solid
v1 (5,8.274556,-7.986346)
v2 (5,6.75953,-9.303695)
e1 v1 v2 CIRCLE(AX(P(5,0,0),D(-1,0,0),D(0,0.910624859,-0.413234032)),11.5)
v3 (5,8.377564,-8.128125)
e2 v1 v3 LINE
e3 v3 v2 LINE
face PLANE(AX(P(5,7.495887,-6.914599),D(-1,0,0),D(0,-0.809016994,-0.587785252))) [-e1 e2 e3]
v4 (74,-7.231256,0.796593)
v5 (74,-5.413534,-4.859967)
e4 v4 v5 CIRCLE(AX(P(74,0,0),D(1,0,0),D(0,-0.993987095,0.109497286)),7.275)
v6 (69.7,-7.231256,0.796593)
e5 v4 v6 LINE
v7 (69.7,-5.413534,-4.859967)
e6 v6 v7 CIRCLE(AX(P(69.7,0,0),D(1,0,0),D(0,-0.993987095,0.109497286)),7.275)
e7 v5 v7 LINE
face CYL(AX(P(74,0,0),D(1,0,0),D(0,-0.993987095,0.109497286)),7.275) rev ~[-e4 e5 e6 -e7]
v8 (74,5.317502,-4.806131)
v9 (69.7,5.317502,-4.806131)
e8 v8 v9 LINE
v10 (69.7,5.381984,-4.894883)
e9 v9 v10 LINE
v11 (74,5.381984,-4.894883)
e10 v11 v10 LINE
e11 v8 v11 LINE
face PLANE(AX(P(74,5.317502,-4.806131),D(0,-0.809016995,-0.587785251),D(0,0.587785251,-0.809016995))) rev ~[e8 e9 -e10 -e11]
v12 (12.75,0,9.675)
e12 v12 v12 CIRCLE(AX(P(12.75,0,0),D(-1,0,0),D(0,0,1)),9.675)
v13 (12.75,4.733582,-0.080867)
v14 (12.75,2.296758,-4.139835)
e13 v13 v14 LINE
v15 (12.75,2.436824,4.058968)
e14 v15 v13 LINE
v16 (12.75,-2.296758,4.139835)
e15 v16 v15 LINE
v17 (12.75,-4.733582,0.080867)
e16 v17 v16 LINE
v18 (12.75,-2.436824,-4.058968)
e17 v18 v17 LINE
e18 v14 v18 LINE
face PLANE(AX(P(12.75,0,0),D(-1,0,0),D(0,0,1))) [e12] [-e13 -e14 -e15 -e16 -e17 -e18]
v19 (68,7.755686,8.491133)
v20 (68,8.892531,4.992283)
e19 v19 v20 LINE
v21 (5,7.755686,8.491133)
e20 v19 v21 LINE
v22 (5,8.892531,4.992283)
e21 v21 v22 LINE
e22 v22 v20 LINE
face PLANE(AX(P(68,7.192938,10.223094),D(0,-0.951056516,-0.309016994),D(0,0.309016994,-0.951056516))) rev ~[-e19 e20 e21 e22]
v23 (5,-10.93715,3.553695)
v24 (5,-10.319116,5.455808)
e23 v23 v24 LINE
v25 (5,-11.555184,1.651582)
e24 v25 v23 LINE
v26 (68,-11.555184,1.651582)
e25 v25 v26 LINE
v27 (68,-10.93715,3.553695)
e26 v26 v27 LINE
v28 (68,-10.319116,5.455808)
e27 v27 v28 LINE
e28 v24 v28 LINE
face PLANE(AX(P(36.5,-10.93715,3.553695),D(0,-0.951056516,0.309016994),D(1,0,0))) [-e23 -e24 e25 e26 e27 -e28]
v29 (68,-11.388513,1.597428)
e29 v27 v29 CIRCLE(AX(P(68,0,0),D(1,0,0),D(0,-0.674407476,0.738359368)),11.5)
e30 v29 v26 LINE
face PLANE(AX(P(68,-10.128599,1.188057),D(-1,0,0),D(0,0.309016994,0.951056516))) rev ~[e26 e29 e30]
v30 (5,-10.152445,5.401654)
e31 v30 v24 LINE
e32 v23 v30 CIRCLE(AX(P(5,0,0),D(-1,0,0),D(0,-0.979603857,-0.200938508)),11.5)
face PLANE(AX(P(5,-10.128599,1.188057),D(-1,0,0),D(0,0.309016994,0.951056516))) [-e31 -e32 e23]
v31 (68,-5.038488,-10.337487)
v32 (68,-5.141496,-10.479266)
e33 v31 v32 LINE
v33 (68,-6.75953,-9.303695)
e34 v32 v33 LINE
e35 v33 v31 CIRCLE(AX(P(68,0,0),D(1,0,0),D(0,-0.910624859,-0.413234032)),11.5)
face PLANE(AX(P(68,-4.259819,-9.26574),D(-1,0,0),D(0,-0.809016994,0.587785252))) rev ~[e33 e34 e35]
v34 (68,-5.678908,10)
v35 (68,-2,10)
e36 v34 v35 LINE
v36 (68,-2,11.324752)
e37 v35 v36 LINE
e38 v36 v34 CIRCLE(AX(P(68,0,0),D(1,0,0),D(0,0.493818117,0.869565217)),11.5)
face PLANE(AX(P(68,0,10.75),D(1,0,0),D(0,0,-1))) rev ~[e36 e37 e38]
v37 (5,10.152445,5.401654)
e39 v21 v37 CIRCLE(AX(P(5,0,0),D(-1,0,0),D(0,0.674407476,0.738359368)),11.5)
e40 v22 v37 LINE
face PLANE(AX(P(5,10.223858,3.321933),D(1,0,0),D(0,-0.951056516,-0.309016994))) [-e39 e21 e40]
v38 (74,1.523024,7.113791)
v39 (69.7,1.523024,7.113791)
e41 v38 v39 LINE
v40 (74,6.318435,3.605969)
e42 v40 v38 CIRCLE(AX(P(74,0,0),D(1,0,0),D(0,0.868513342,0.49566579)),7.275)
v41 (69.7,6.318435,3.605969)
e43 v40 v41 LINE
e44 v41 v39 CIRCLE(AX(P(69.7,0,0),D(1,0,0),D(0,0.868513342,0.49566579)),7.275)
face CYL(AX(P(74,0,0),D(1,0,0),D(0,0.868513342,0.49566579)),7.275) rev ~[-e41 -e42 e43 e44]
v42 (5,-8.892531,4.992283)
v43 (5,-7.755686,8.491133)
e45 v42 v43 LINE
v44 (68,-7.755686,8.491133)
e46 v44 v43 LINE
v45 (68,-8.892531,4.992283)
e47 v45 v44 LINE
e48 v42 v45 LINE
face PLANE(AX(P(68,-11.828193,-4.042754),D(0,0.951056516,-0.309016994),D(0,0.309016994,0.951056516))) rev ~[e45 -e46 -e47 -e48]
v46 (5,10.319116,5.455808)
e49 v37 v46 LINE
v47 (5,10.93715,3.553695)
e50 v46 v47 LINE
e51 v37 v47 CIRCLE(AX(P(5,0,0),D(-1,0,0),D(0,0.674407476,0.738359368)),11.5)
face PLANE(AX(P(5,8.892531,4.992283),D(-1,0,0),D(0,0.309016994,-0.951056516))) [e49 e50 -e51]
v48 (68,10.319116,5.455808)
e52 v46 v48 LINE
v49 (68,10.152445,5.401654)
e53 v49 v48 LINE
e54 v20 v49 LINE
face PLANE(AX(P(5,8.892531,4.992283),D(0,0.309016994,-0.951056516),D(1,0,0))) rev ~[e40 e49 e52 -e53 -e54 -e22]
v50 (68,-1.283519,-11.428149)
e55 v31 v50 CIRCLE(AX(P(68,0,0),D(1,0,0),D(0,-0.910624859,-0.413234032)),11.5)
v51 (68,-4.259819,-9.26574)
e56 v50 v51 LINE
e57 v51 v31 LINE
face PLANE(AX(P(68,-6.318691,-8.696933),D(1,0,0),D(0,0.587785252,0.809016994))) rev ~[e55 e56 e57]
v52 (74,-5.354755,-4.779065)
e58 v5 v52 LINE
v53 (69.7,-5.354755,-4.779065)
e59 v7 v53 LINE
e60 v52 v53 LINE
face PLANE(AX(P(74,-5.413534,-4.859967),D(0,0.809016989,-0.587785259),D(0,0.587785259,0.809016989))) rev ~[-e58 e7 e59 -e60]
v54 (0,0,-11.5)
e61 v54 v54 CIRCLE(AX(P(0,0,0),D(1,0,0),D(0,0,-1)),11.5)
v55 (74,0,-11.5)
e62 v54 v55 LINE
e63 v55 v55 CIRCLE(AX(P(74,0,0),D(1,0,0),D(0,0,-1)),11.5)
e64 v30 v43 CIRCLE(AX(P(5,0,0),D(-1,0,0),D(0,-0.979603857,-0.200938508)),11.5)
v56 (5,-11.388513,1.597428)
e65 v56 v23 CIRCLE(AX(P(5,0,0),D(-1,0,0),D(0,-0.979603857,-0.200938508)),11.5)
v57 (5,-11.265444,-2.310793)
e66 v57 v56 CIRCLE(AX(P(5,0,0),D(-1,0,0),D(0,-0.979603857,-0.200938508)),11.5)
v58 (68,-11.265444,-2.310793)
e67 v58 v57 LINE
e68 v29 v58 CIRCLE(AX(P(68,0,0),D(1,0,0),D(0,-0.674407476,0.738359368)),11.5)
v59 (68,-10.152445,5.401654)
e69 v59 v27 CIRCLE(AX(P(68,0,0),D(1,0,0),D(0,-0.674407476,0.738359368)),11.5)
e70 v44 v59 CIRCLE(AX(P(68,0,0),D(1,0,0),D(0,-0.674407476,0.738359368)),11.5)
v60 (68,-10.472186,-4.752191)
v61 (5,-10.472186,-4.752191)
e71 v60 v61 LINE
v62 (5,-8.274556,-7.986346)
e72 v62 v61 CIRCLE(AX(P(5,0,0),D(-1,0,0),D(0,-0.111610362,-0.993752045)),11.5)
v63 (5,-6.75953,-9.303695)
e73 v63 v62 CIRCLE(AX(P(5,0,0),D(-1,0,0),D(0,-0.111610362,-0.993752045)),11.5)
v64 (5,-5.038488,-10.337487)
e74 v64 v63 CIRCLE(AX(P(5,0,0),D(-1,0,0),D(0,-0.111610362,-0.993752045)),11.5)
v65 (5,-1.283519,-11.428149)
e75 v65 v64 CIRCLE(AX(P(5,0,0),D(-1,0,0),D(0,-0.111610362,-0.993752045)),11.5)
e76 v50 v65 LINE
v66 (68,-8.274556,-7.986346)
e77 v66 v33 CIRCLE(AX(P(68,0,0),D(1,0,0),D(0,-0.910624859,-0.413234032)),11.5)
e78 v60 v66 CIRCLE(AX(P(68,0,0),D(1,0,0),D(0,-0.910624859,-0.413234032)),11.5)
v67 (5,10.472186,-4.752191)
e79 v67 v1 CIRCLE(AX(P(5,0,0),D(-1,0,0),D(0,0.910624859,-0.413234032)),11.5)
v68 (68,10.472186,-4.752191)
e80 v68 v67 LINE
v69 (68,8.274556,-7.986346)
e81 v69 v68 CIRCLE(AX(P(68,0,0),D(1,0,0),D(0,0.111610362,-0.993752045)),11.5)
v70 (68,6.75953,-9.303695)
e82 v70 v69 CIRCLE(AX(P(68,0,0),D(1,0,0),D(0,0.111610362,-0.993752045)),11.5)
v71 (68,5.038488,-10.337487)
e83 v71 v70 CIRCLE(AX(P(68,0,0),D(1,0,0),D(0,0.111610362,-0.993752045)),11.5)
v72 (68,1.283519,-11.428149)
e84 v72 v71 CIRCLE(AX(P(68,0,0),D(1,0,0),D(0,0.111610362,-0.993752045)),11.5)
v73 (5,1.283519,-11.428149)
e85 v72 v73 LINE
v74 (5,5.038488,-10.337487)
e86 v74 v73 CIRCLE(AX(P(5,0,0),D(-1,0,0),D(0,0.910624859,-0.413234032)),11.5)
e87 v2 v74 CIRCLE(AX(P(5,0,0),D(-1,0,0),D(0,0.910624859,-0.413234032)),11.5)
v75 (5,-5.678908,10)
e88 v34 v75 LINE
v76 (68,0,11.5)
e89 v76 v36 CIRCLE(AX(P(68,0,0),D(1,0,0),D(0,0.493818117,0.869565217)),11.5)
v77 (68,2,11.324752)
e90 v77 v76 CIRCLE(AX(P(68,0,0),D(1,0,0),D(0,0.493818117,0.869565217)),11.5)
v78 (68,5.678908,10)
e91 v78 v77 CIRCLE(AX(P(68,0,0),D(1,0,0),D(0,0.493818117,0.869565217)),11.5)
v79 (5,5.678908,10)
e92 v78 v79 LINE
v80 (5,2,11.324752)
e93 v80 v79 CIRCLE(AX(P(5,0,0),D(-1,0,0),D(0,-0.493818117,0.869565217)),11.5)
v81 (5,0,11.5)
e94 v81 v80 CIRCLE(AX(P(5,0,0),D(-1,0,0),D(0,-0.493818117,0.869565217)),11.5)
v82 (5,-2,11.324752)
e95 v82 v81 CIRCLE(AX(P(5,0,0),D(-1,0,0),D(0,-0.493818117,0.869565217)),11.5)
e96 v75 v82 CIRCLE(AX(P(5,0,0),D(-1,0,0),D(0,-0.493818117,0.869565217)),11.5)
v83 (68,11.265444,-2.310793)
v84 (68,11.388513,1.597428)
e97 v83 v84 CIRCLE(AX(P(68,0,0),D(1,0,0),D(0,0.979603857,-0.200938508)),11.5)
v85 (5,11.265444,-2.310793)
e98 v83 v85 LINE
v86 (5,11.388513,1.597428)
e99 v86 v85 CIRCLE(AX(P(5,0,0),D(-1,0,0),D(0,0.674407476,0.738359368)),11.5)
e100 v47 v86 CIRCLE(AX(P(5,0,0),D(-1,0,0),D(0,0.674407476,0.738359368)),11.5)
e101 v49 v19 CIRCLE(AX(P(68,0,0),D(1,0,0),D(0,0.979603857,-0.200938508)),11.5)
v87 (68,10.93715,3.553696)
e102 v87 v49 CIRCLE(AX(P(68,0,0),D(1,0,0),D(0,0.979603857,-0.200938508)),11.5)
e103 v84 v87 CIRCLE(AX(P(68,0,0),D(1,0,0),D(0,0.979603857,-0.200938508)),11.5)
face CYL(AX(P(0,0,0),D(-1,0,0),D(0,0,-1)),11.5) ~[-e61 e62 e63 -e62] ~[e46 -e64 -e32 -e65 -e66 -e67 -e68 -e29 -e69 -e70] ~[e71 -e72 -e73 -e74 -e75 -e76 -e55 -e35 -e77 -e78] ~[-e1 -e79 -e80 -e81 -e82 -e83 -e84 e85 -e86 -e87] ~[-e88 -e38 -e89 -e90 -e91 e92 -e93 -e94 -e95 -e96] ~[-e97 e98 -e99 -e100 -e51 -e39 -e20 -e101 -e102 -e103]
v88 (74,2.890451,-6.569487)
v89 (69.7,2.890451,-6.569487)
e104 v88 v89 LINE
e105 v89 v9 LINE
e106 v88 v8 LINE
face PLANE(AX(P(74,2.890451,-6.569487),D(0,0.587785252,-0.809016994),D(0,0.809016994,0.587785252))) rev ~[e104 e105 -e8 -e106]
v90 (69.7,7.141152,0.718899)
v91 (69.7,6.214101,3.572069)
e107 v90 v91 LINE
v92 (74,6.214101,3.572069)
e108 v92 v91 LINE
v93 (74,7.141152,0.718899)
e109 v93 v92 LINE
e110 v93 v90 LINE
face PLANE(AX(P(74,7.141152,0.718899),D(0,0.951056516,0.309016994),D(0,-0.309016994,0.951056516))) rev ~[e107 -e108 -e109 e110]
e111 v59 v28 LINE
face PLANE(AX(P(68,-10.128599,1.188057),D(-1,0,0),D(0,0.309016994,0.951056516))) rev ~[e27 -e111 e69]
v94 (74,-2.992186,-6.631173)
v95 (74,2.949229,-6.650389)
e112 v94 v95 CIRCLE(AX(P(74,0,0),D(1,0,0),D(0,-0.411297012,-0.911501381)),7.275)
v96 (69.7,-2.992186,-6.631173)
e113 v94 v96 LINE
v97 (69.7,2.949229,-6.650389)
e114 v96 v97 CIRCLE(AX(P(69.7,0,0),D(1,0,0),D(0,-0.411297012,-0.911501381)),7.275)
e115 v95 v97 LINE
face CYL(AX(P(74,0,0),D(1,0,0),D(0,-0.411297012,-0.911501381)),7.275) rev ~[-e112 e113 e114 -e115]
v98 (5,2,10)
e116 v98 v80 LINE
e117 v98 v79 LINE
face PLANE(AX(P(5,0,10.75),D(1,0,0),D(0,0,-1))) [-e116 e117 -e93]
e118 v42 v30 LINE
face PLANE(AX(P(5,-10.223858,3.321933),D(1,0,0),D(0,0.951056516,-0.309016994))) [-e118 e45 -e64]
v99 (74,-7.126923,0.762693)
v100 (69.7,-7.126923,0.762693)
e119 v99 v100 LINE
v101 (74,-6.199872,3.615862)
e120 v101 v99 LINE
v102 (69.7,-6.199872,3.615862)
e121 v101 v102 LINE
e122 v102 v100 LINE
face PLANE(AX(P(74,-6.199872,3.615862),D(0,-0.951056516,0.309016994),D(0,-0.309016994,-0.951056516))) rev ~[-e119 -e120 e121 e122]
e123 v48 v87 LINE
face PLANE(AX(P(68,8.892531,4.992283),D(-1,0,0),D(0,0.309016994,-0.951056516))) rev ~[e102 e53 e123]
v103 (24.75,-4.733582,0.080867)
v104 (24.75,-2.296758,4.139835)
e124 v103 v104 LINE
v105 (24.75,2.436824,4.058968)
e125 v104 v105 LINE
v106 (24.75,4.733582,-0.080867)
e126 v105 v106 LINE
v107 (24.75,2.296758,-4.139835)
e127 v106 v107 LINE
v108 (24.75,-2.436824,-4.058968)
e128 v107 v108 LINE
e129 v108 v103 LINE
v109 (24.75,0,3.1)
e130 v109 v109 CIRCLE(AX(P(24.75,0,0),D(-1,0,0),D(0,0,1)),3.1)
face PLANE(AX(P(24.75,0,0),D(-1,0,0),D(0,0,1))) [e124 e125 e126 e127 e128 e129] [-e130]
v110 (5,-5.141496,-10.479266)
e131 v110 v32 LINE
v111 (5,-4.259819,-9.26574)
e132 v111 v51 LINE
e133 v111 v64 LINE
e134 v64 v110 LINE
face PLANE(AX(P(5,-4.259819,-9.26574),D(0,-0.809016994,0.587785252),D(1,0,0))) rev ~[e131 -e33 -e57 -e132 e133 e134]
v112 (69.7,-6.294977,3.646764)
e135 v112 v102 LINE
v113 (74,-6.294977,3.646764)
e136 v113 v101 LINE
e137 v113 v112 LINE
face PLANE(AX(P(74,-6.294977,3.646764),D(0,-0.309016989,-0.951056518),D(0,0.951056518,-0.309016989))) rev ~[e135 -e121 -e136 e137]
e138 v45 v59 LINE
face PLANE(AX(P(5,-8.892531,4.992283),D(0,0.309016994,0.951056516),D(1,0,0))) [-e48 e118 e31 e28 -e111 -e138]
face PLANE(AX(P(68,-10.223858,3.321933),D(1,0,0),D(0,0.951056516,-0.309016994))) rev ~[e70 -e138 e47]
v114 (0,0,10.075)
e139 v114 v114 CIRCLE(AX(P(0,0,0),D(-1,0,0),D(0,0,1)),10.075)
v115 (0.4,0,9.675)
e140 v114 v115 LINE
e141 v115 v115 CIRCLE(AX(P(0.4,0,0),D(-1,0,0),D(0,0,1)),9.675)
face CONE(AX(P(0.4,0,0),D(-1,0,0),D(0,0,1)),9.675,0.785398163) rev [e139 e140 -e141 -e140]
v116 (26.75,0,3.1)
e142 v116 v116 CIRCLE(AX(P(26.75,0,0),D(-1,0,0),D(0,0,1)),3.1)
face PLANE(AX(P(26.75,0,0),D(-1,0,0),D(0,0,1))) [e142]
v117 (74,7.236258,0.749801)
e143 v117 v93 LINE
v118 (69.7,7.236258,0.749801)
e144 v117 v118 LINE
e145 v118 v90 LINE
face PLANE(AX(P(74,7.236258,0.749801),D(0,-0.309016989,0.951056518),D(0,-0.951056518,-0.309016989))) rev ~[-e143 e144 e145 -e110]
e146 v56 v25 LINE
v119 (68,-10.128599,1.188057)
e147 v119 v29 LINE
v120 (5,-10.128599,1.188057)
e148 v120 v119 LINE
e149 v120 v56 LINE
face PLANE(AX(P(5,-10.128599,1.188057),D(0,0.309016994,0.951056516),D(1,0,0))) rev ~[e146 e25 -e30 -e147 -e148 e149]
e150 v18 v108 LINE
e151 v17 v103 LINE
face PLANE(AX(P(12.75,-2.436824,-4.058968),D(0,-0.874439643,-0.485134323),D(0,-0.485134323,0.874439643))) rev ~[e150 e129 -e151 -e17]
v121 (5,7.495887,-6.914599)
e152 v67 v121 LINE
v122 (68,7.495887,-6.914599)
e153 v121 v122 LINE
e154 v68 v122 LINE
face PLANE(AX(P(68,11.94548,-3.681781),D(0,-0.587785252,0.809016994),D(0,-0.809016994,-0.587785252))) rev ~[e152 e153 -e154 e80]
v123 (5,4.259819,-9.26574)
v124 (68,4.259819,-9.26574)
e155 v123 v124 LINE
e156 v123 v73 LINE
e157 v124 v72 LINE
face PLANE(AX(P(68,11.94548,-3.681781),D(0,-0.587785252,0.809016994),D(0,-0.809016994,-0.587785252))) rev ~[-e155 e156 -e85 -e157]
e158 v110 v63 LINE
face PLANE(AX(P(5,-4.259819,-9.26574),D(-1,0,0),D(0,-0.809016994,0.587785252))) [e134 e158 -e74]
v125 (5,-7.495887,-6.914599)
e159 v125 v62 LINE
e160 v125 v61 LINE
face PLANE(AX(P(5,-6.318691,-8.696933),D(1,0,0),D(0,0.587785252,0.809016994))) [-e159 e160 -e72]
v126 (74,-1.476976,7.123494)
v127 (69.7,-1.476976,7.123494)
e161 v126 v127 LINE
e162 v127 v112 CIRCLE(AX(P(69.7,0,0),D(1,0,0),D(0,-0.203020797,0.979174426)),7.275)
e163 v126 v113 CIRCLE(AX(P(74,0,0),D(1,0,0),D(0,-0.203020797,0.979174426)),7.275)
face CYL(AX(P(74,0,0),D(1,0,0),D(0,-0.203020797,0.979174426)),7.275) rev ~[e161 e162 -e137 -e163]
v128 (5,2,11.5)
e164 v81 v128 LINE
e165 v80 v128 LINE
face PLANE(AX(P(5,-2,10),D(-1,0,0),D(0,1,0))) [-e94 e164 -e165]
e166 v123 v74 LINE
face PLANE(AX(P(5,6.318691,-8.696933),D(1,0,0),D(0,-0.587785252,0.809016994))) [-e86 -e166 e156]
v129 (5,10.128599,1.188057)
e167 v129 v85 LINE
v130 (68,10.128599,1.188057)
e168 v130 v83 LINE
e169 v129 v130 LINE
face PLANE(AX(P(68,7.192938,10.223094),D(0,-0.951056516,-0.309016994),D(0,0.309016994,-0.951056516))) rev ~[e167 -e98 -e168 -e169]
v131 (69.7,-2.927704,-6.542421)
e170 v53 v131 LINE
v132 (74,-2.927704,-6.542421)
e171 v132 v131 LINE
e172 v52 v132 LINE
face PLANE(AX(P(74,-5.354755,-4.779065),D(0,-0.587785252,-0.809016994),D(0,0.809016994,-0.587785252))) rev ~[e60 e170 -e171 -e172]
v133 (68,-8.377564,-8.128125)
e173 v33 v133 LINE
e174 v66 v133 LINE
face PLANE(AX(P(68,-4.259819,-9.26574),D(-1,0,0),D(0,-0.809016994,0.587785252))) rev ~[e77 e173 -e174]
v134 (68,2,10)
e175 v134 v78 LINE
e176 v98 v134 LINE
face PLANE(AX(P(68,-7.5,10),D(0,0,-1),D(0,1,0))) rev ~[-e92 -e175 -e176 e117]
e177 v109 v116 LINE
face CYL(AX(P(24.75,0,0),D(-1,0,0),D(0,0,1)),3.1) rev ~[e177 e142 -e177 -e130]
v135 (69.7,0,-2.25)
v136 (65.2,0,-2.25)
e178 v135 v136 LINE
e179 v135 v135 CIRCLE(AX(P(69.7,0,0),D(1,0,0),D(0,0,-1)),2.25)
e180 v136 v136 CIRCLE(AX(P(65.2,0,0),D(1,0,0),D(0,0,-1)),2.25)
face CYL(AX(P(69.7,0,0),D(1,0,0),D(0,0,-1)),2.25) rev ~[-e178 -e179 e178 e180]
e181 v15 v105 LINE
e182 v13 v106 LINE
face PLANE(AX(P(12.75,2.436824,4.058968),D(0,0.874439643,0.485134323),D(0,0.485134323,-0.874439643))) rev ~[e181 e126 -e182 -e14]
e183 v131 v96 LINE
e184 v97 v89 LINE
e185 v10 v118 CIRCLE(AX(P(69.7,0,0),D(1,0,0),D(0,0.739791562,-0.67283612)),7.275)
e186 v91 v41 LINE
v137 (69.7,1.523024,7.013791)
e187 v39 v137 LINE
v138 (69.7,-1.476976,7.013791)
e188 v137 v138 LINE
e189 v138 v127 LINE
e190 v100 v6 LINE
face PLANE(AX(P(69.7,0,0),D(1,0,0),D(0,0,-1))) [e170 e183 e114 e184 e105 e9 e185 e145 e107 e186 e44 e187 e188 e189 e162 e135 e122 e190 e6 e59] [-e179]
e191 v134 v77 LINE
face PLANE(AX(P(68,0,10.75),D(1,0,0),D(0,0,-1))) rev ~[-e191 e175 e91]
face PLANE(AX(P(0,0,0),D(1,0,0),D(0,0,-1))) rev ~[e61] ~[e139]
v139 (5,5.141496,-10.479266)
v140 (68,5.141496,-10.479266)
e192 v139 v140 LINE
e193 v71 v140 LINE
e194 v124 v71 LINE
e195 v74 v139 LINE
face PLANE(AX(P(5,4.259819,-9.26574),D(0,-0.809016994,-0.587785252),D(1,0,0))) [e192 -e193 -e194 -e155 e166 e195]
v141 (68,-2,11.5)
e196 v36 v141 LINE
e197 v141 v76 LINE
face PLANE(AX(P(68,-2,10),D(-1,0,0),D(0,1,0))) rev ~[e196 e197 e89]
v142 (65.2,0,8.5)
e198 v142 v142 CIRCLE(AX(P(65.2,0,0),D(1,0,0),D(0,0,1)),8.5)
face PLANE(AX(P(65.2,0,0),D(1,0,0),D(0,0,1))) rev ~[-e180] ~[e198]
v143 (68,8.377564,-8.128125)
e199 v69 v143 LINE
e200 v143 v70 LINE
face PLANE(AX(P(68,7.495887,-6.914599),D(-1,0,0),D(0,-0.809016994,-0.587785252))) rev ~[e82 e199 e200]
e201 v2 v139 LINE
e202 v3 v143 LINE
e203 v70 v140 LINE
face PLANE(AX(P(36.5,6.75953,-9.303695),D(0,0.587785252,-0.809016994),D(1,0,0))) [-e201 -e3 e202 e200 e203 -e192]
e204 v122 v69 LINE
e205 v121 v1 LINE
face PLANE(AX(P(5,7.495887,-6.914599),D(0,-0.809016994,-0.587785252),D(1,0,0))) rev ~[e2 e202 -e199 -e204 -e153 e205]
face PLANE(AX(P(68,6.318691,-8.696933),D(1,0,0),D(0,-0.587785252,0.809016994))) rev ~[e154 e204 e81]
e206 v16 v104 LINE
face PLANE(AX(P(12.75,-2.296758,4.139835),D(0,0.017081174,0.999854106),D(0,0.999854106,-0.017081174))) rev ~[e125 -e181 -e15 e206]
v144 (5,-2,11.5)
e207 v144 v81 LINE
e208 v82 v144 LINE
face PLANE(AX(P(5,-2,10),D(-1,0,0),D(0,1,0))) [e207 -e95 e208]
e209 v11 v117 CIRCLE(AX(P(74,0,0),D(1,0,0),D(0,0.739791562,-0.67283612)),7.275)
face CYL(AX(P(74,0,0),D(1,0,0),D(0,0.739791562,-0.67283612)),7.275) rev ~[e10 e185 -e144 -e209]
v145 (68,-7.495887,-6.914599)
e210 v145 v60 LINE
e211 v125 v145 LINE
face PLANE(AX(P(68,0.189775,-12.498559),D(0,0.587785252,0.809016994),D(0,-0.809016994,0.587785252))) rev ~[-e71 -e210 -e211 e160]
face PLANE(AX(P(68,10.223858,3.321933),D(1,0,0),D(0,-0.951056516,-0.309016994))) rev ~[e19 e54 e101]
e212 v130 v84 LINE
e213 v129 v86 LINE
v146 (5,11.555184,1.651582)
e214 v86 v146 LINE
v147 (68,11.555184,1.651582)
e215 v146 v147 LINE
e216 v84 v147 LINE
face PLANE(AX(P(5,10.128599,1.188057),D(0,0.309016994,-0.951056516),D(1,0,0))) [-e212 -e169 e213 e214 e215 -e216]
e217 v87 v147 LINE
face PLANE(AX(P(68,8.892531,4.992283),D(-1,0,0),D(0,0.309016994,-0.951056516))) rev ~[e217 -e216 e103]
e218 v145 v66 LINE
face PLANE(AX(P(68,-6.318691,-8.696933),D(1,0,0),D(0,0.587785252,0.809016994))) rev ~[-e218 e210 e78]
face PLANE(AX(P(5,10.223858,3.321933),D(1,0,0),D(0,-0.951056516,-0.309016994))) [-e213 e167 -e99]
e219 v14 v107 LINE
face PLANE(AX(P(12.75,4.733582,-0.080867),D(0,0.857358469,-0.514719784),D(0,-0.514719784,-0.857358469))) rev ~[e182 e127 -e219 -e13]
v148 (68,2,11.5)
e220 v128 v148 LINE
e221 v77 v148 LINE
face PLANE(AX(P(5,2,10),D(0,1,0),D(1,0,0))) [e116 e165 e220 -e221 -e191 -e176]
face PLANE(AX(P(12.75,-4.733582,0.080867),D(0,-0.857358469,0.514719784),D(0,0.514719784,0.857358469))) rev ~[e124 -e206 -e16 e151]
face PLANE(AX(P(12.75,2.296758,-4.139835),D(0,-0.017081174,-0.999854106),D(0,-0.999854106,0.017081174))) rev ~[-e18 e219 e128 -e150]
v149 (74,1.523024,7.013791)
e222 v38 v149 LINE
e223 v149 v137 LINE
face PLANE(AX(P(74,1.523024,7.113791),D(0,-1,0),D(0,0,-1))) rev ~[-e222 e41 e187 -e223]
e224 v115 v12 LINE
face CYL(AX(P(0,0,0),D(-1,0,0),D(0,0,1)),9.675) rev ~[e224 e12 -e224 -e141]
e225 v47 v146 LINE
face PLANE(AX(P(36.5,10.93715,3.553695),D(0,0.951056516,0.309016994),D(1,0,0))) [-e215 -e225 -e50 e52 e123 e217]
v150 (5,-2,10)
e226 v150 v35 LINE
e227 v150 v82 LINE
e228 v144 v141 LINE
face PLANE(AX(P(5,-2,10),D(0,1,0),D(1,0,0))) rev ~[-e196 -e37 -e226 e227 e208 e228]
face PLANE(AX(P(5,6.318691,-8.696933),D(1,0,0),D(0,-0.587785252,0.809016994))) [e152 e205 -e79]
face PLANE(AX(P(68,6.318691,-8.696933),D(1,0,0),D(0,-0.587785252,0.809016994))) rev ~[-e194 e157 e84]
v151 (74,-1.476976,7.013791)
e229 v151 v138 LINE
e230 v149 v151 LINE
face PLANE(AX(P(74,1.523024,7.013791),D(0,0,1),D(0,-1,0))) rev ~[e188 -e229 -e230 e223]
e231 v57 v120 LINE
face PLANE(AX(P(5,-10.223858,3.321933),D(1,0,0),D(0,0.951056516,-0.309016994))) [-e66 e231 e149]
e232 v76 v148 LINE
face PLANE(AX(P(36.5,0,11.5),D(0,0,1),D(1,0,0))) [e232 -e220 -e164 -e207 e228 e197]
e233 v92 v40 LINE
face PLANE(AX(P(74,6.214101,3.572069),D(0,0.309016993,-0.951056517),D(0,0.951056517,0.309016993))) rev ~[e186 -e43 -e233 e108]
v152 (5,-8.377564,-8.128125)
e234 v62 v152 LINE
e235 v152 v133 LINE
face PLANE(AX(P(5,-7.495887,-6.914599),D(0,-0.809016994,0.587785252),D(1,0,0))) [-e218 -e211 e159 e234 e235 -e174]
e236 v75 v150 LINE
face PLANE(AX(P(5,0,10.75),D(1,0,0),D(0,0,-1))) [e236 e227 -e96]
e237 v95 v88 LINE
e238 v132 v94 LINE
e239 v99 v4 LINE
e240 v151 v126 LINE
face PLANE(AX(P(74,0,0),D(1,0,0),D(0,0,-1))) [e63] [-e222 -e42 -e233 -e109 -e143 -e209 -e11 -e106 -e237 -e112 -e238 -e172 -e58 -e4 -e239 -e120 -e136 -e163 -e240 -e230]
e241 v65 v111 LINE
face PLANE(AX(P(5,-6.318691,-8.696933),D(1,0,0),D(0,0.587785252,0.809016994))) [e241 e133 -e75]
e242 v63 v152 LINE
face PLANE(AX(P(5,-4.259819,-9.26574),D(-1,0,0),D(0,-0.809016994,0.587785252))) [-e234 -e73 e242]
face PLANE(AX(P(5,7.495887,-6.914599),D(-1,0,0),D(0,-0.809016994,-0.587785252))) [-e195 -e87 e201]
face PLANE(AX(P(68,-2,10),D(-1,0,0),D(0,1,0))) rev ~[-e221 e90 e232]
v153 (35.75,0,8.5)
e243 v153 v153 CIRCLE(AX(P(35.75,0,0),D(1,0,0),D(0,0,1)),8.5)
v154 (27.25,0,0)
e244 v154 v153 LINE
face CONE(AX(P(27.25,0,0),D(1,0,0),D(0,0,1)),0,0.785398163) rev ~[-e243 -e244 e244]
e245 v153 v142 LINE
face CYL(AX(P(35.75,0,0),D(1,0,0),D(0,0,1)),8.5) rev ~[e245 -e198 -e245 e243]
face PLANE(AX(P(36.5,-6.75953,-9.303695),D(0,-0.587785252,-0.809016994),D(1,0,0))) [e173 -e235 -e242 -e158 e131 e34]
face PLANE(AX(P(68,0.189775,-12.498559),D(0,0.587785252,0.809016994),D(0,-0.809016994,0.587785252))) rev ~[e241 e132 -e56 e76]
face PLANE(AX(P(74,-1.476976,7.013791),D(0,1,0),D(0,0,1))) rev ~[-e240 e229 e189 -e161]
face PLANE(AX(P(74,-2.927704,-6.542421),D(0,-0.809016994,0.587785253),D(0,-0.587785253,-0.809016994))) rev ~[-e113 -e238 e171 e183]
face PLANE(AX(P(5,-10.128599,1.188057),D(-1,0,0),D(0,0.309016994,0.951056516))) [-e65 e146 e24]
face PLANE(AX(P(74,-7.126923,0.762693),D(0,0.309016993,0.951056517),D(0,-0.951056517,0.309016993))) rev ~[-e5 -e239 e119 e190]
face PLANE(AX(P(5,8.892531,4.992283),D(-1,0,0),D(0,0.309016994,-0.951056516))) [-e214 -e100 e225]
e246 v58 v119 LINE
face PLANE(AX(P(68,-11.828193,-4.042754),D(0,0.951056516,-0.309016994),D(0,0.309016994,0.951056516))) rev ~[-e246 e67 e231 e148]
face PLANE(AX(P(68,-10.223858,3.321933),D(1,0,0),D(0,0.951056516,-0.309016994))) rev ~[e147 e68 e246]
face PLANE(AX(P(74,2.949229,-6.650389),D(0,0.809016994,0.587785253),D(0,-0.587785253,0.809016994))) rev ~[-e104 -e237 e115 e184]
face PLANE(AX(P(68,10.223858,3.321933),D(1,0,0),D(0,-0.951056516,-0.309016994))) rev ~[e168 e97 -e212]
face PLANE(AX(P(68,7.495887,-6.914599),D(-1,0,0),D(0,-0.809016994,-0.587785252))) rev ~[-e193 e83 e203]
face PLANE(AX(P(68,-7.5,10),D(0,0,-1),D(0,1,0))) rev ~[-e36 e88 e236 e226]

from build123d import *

# Parameters (mm, degrees)
SKIZZE1_R                                 = 11.5
GRUNDK_RPER_WALZE_DEPTH                   = 74
PRESSPASSUNG_KUGELLAGER_DEPTH             = 4.3
SKIZZE3_R                                 = 2.25
M4_SCHRAUBENF_HRUNG_DEPTH                 = 4.5
SKIZZE4_R                                 = 9.675
MOTORAUSSPARUNG_DEPTH                     = 12.75
ZERST_RUNGSELEMENT_START                  = -6
SKIZZE7_W                                 = 1.5
SKIZZE7_H                                 = 15
ZERST_RUNGSELEMENT_AUSSPARUNG_DEPTH       = 63
SKIZZE8_W                                 = 63
SKIZZE8_H                                 = 4
ZERST_RUNGSELEMENT_RECHTECK_DEPTH         = 1.5
M5_MOTOR_MUTTER_DEPTH                     = 12
SKIZZE12_R                                = 3.1
M5_AUSLAUF_SCHRAUBE_DEPTH                 = 2
ZERST_RUNGSELEMENT_VERVIELF_LTIGUNG_COUNT = 5
FASE1_SIZE                                = 0.4


with BuildPart() as part:
    # Skizze1 → Grundkörper Walze (new body)
    with BuildSketch(Plane(origin=(0, 0, 0), x_dir=(0, 0, -1), z_dir=(1, 0, 0))):
        Circle(SKIZZE1_R)
    extrude(amount=GRUNDK_RPER_WALZE_DEPTH)

    # Skizze2 → Presspassung Kugellager (cut)
    with BuildSketch(Plane(origin=(74, 0, 0), x_dir=(0, 0, -1), z_dir=(1, 0, 0))):
        with BuildLine():
            Line((-7.1137911, 1.5230237), (-7.0137911, 1.5230237))
            Line((-7.0137911, 1.5230237), (-7.0137911, -1.4769763))
            Line((-7.0137911, -1.4769763), (-7.123493947, -1.4769763))
            ThreePointArc((-7.123493947, -1.4769763), (-5.899398016, -4.257079756), (-3.646763959, -6.294977175))
            Line((-3.646763959, -6.294977175), (-3.61586226, -6.199871523))
            Line((-3.61586226, -6.199871523), (-0.762692711, -7.126922506))
            Line((-0.762692711, -7.126922506), (-0.796592755, -7.231256114))
            ThreePointArc((-0.796592755, -7.231256114), (2.225709199, -6.926170916), (4.859967024, -5.413533553))
            Line((4.859967024, -5.413533553), (4.779065325, -5.354755027))
            Line((4.779065325, -5.354755027), (6.542421081, -2.927704044))
            Line((6.542421081, -2.927704044), (6.631172549, -2.99218576))
            ThreePointArc((6.631172549, -2.99218576), (7.27496195, -0.023529282), (6.650388764, 2.94922944))
            Line((6.650388764, 2.94922944), (6.569487065, 2.890450915))
            Line((6.569487065, 2.890450915), (4.806131308, 5.317501898))
            Line((4.806131308, 5.317501898), (4.894882775, 5.381983613))
            ThreePointArc((4.894882775, 5.381983613), (2.270464553, 6.91162902), (-0.749800729, 7.236257587))
            Line((-0.749800729, 7.236257587), (-0.71889903, 7.141151935))
            Line((-0.71889903, 7.141151935), (-3.572068579, 6.214100952))
            Line((-3.572068579, 6.214100952), (-3.605968623, 6.31843456))
            ThreePointArc((-3.605968623, 6.31843456), (-5.871737686, 4.295150934), (-7.1137911, 1.5230237))
        make_face()
    extrude(amount=-PRESSPASSUNG_KUGELLAGER_DEPTH, mode=Mode.SUBTRACT)

    # Skizze3 → M4 Schraubenführung (cut)
    with BuildSketch(Plane(origin=(69.7, 0, 0), x_dir=(0, 0, -1), z_dir=(1, 0, 0))):
        Circle(SKIZZE3_R)
    extrude(amount=-M4_SCHRAUBENF_HRUNG_DEPTH, mode=Mode.SUBTRACT)

    # Skizze4 → Motoraussparung (cut)
    with BuildSketch(Plane.ZY):
        Circle(SKIZZE4_R)
    extrude(amount=-MOTORAUSSPARUNG_DEPTH, mode=Mode.SUBTRACT)

    # Skizze7 → Zerstörungselement Aussparung (cut)
    with BuildSketch(Plane(origin=(74, 0, 0), x_dir=(0, 0, -1), z_dir=(1, 0, 0)).offset(ZERST_RUNGSELEMENT_START)):
        with Locations((-10.75, 0)):
            Rectangle(SKIZZE7_W, SKIZZE7_H)
    zerst_rungselement_aussparung = extrude(amount=-ZERST_RUNGSELEMENT_AUSSPARUNG_DEPTH, mode=Mode.SUBTRACT)

    # Skizze8 → Zerstörungselement Rechteck (add)
    with BuildSketch(Plane.XY.offset(10)):
        with Locations((36.5, 0)):
            Rectangle(SKIZZE8_W, SKIZZE8_H)
    zerst_rungselement_rechteck = extrude(amount=ZERST_RUNGSELEMENT_RECHTECK_DEPTH)

    # Skizze10 → M5 Motor Mutter (cut)
    with BuildSketch(Plane.ZY.offset(-12.75)):
        Polygon((4.139835299, -2.29675794), (4.058968371, 2.436823566), (-0.080866927, 4.733581506), (-4.139835299, 2.29675794), (-4.058968371, -2.436823566), (0.080866927, -4.733581506), align=None)
    extrude(amount=-M5_MOTOR_MUTTER_DEPTH, mode=Mode.SUBTRACT)

    # Skizze12 → M5 Auslauf Schraube (cut)
    with BuildSketch(Plane.ZY.offset(-24.75)):
        Circle(SKIZZE12_R)
    extrude(amount=-M5_AUSLAUF_SCHRAUBE_DEPTH, mode=Mode.SUBTRACT)

    # Zerstörungselement Vervielfältigung: Zerstörungselement Aussparung, Zerstörungselement Rechteck ×5 about axis
    zerst_rungselement_vervielf_ltigung_axis = Axis((0, 0, 0), (1, 0, 0))
    add([zerst_rungselement_aussparung.rotate(zerst_rungselement_vervielf_ltigung_axis, i * 360 / ZERST_RUNGSELEMENT_VERVIELF_LTIGUNG_COUNT) for i in range(1, ZERST_RUNGSELEMENT_VERVIELF_LTIGUNG_COUNT)], mode=Mode.SUBTRACT)
    add([zerst_rungselement_rechteck.rotate(zerst_rungselement_vervielf_ltigung_axis, i * 360 / ZERST_RUNGSELEMENT_VERVIELF_LTIGUNG_COUNT) for i in range(1, ZERST_RUNGSELEMENT_VERVIELF_LTIGUNG_COUNT)])

    # Skizze15 → Innenaussparung (revolve, cut)
    with BuildSketch(Plane.XY, mode=Mode.PRIVATE) as innenaussparung_sk:
        Polygon((27.25, 0), (35.75, 8.5), (65.2, 8.5), (65.2, 0), align=None)
    revolve(innenaussparung_sk.sketch.rotate(Axis((-6.893942049, 0, 0), (1, 0, 0)), 90), axis=Axis((-6.893942049, 0, 0), (1, 0, 0)), mode=Mode.SUBTRACT)

    # Fase1
    fase1_edges = [part.edges().sort_by_distance(p)[0] for p in [
        (0, 0, -9.675),
    ]]
    chamfer(fase1_edges, length=FASE1_SIZE)


solid = part.part
